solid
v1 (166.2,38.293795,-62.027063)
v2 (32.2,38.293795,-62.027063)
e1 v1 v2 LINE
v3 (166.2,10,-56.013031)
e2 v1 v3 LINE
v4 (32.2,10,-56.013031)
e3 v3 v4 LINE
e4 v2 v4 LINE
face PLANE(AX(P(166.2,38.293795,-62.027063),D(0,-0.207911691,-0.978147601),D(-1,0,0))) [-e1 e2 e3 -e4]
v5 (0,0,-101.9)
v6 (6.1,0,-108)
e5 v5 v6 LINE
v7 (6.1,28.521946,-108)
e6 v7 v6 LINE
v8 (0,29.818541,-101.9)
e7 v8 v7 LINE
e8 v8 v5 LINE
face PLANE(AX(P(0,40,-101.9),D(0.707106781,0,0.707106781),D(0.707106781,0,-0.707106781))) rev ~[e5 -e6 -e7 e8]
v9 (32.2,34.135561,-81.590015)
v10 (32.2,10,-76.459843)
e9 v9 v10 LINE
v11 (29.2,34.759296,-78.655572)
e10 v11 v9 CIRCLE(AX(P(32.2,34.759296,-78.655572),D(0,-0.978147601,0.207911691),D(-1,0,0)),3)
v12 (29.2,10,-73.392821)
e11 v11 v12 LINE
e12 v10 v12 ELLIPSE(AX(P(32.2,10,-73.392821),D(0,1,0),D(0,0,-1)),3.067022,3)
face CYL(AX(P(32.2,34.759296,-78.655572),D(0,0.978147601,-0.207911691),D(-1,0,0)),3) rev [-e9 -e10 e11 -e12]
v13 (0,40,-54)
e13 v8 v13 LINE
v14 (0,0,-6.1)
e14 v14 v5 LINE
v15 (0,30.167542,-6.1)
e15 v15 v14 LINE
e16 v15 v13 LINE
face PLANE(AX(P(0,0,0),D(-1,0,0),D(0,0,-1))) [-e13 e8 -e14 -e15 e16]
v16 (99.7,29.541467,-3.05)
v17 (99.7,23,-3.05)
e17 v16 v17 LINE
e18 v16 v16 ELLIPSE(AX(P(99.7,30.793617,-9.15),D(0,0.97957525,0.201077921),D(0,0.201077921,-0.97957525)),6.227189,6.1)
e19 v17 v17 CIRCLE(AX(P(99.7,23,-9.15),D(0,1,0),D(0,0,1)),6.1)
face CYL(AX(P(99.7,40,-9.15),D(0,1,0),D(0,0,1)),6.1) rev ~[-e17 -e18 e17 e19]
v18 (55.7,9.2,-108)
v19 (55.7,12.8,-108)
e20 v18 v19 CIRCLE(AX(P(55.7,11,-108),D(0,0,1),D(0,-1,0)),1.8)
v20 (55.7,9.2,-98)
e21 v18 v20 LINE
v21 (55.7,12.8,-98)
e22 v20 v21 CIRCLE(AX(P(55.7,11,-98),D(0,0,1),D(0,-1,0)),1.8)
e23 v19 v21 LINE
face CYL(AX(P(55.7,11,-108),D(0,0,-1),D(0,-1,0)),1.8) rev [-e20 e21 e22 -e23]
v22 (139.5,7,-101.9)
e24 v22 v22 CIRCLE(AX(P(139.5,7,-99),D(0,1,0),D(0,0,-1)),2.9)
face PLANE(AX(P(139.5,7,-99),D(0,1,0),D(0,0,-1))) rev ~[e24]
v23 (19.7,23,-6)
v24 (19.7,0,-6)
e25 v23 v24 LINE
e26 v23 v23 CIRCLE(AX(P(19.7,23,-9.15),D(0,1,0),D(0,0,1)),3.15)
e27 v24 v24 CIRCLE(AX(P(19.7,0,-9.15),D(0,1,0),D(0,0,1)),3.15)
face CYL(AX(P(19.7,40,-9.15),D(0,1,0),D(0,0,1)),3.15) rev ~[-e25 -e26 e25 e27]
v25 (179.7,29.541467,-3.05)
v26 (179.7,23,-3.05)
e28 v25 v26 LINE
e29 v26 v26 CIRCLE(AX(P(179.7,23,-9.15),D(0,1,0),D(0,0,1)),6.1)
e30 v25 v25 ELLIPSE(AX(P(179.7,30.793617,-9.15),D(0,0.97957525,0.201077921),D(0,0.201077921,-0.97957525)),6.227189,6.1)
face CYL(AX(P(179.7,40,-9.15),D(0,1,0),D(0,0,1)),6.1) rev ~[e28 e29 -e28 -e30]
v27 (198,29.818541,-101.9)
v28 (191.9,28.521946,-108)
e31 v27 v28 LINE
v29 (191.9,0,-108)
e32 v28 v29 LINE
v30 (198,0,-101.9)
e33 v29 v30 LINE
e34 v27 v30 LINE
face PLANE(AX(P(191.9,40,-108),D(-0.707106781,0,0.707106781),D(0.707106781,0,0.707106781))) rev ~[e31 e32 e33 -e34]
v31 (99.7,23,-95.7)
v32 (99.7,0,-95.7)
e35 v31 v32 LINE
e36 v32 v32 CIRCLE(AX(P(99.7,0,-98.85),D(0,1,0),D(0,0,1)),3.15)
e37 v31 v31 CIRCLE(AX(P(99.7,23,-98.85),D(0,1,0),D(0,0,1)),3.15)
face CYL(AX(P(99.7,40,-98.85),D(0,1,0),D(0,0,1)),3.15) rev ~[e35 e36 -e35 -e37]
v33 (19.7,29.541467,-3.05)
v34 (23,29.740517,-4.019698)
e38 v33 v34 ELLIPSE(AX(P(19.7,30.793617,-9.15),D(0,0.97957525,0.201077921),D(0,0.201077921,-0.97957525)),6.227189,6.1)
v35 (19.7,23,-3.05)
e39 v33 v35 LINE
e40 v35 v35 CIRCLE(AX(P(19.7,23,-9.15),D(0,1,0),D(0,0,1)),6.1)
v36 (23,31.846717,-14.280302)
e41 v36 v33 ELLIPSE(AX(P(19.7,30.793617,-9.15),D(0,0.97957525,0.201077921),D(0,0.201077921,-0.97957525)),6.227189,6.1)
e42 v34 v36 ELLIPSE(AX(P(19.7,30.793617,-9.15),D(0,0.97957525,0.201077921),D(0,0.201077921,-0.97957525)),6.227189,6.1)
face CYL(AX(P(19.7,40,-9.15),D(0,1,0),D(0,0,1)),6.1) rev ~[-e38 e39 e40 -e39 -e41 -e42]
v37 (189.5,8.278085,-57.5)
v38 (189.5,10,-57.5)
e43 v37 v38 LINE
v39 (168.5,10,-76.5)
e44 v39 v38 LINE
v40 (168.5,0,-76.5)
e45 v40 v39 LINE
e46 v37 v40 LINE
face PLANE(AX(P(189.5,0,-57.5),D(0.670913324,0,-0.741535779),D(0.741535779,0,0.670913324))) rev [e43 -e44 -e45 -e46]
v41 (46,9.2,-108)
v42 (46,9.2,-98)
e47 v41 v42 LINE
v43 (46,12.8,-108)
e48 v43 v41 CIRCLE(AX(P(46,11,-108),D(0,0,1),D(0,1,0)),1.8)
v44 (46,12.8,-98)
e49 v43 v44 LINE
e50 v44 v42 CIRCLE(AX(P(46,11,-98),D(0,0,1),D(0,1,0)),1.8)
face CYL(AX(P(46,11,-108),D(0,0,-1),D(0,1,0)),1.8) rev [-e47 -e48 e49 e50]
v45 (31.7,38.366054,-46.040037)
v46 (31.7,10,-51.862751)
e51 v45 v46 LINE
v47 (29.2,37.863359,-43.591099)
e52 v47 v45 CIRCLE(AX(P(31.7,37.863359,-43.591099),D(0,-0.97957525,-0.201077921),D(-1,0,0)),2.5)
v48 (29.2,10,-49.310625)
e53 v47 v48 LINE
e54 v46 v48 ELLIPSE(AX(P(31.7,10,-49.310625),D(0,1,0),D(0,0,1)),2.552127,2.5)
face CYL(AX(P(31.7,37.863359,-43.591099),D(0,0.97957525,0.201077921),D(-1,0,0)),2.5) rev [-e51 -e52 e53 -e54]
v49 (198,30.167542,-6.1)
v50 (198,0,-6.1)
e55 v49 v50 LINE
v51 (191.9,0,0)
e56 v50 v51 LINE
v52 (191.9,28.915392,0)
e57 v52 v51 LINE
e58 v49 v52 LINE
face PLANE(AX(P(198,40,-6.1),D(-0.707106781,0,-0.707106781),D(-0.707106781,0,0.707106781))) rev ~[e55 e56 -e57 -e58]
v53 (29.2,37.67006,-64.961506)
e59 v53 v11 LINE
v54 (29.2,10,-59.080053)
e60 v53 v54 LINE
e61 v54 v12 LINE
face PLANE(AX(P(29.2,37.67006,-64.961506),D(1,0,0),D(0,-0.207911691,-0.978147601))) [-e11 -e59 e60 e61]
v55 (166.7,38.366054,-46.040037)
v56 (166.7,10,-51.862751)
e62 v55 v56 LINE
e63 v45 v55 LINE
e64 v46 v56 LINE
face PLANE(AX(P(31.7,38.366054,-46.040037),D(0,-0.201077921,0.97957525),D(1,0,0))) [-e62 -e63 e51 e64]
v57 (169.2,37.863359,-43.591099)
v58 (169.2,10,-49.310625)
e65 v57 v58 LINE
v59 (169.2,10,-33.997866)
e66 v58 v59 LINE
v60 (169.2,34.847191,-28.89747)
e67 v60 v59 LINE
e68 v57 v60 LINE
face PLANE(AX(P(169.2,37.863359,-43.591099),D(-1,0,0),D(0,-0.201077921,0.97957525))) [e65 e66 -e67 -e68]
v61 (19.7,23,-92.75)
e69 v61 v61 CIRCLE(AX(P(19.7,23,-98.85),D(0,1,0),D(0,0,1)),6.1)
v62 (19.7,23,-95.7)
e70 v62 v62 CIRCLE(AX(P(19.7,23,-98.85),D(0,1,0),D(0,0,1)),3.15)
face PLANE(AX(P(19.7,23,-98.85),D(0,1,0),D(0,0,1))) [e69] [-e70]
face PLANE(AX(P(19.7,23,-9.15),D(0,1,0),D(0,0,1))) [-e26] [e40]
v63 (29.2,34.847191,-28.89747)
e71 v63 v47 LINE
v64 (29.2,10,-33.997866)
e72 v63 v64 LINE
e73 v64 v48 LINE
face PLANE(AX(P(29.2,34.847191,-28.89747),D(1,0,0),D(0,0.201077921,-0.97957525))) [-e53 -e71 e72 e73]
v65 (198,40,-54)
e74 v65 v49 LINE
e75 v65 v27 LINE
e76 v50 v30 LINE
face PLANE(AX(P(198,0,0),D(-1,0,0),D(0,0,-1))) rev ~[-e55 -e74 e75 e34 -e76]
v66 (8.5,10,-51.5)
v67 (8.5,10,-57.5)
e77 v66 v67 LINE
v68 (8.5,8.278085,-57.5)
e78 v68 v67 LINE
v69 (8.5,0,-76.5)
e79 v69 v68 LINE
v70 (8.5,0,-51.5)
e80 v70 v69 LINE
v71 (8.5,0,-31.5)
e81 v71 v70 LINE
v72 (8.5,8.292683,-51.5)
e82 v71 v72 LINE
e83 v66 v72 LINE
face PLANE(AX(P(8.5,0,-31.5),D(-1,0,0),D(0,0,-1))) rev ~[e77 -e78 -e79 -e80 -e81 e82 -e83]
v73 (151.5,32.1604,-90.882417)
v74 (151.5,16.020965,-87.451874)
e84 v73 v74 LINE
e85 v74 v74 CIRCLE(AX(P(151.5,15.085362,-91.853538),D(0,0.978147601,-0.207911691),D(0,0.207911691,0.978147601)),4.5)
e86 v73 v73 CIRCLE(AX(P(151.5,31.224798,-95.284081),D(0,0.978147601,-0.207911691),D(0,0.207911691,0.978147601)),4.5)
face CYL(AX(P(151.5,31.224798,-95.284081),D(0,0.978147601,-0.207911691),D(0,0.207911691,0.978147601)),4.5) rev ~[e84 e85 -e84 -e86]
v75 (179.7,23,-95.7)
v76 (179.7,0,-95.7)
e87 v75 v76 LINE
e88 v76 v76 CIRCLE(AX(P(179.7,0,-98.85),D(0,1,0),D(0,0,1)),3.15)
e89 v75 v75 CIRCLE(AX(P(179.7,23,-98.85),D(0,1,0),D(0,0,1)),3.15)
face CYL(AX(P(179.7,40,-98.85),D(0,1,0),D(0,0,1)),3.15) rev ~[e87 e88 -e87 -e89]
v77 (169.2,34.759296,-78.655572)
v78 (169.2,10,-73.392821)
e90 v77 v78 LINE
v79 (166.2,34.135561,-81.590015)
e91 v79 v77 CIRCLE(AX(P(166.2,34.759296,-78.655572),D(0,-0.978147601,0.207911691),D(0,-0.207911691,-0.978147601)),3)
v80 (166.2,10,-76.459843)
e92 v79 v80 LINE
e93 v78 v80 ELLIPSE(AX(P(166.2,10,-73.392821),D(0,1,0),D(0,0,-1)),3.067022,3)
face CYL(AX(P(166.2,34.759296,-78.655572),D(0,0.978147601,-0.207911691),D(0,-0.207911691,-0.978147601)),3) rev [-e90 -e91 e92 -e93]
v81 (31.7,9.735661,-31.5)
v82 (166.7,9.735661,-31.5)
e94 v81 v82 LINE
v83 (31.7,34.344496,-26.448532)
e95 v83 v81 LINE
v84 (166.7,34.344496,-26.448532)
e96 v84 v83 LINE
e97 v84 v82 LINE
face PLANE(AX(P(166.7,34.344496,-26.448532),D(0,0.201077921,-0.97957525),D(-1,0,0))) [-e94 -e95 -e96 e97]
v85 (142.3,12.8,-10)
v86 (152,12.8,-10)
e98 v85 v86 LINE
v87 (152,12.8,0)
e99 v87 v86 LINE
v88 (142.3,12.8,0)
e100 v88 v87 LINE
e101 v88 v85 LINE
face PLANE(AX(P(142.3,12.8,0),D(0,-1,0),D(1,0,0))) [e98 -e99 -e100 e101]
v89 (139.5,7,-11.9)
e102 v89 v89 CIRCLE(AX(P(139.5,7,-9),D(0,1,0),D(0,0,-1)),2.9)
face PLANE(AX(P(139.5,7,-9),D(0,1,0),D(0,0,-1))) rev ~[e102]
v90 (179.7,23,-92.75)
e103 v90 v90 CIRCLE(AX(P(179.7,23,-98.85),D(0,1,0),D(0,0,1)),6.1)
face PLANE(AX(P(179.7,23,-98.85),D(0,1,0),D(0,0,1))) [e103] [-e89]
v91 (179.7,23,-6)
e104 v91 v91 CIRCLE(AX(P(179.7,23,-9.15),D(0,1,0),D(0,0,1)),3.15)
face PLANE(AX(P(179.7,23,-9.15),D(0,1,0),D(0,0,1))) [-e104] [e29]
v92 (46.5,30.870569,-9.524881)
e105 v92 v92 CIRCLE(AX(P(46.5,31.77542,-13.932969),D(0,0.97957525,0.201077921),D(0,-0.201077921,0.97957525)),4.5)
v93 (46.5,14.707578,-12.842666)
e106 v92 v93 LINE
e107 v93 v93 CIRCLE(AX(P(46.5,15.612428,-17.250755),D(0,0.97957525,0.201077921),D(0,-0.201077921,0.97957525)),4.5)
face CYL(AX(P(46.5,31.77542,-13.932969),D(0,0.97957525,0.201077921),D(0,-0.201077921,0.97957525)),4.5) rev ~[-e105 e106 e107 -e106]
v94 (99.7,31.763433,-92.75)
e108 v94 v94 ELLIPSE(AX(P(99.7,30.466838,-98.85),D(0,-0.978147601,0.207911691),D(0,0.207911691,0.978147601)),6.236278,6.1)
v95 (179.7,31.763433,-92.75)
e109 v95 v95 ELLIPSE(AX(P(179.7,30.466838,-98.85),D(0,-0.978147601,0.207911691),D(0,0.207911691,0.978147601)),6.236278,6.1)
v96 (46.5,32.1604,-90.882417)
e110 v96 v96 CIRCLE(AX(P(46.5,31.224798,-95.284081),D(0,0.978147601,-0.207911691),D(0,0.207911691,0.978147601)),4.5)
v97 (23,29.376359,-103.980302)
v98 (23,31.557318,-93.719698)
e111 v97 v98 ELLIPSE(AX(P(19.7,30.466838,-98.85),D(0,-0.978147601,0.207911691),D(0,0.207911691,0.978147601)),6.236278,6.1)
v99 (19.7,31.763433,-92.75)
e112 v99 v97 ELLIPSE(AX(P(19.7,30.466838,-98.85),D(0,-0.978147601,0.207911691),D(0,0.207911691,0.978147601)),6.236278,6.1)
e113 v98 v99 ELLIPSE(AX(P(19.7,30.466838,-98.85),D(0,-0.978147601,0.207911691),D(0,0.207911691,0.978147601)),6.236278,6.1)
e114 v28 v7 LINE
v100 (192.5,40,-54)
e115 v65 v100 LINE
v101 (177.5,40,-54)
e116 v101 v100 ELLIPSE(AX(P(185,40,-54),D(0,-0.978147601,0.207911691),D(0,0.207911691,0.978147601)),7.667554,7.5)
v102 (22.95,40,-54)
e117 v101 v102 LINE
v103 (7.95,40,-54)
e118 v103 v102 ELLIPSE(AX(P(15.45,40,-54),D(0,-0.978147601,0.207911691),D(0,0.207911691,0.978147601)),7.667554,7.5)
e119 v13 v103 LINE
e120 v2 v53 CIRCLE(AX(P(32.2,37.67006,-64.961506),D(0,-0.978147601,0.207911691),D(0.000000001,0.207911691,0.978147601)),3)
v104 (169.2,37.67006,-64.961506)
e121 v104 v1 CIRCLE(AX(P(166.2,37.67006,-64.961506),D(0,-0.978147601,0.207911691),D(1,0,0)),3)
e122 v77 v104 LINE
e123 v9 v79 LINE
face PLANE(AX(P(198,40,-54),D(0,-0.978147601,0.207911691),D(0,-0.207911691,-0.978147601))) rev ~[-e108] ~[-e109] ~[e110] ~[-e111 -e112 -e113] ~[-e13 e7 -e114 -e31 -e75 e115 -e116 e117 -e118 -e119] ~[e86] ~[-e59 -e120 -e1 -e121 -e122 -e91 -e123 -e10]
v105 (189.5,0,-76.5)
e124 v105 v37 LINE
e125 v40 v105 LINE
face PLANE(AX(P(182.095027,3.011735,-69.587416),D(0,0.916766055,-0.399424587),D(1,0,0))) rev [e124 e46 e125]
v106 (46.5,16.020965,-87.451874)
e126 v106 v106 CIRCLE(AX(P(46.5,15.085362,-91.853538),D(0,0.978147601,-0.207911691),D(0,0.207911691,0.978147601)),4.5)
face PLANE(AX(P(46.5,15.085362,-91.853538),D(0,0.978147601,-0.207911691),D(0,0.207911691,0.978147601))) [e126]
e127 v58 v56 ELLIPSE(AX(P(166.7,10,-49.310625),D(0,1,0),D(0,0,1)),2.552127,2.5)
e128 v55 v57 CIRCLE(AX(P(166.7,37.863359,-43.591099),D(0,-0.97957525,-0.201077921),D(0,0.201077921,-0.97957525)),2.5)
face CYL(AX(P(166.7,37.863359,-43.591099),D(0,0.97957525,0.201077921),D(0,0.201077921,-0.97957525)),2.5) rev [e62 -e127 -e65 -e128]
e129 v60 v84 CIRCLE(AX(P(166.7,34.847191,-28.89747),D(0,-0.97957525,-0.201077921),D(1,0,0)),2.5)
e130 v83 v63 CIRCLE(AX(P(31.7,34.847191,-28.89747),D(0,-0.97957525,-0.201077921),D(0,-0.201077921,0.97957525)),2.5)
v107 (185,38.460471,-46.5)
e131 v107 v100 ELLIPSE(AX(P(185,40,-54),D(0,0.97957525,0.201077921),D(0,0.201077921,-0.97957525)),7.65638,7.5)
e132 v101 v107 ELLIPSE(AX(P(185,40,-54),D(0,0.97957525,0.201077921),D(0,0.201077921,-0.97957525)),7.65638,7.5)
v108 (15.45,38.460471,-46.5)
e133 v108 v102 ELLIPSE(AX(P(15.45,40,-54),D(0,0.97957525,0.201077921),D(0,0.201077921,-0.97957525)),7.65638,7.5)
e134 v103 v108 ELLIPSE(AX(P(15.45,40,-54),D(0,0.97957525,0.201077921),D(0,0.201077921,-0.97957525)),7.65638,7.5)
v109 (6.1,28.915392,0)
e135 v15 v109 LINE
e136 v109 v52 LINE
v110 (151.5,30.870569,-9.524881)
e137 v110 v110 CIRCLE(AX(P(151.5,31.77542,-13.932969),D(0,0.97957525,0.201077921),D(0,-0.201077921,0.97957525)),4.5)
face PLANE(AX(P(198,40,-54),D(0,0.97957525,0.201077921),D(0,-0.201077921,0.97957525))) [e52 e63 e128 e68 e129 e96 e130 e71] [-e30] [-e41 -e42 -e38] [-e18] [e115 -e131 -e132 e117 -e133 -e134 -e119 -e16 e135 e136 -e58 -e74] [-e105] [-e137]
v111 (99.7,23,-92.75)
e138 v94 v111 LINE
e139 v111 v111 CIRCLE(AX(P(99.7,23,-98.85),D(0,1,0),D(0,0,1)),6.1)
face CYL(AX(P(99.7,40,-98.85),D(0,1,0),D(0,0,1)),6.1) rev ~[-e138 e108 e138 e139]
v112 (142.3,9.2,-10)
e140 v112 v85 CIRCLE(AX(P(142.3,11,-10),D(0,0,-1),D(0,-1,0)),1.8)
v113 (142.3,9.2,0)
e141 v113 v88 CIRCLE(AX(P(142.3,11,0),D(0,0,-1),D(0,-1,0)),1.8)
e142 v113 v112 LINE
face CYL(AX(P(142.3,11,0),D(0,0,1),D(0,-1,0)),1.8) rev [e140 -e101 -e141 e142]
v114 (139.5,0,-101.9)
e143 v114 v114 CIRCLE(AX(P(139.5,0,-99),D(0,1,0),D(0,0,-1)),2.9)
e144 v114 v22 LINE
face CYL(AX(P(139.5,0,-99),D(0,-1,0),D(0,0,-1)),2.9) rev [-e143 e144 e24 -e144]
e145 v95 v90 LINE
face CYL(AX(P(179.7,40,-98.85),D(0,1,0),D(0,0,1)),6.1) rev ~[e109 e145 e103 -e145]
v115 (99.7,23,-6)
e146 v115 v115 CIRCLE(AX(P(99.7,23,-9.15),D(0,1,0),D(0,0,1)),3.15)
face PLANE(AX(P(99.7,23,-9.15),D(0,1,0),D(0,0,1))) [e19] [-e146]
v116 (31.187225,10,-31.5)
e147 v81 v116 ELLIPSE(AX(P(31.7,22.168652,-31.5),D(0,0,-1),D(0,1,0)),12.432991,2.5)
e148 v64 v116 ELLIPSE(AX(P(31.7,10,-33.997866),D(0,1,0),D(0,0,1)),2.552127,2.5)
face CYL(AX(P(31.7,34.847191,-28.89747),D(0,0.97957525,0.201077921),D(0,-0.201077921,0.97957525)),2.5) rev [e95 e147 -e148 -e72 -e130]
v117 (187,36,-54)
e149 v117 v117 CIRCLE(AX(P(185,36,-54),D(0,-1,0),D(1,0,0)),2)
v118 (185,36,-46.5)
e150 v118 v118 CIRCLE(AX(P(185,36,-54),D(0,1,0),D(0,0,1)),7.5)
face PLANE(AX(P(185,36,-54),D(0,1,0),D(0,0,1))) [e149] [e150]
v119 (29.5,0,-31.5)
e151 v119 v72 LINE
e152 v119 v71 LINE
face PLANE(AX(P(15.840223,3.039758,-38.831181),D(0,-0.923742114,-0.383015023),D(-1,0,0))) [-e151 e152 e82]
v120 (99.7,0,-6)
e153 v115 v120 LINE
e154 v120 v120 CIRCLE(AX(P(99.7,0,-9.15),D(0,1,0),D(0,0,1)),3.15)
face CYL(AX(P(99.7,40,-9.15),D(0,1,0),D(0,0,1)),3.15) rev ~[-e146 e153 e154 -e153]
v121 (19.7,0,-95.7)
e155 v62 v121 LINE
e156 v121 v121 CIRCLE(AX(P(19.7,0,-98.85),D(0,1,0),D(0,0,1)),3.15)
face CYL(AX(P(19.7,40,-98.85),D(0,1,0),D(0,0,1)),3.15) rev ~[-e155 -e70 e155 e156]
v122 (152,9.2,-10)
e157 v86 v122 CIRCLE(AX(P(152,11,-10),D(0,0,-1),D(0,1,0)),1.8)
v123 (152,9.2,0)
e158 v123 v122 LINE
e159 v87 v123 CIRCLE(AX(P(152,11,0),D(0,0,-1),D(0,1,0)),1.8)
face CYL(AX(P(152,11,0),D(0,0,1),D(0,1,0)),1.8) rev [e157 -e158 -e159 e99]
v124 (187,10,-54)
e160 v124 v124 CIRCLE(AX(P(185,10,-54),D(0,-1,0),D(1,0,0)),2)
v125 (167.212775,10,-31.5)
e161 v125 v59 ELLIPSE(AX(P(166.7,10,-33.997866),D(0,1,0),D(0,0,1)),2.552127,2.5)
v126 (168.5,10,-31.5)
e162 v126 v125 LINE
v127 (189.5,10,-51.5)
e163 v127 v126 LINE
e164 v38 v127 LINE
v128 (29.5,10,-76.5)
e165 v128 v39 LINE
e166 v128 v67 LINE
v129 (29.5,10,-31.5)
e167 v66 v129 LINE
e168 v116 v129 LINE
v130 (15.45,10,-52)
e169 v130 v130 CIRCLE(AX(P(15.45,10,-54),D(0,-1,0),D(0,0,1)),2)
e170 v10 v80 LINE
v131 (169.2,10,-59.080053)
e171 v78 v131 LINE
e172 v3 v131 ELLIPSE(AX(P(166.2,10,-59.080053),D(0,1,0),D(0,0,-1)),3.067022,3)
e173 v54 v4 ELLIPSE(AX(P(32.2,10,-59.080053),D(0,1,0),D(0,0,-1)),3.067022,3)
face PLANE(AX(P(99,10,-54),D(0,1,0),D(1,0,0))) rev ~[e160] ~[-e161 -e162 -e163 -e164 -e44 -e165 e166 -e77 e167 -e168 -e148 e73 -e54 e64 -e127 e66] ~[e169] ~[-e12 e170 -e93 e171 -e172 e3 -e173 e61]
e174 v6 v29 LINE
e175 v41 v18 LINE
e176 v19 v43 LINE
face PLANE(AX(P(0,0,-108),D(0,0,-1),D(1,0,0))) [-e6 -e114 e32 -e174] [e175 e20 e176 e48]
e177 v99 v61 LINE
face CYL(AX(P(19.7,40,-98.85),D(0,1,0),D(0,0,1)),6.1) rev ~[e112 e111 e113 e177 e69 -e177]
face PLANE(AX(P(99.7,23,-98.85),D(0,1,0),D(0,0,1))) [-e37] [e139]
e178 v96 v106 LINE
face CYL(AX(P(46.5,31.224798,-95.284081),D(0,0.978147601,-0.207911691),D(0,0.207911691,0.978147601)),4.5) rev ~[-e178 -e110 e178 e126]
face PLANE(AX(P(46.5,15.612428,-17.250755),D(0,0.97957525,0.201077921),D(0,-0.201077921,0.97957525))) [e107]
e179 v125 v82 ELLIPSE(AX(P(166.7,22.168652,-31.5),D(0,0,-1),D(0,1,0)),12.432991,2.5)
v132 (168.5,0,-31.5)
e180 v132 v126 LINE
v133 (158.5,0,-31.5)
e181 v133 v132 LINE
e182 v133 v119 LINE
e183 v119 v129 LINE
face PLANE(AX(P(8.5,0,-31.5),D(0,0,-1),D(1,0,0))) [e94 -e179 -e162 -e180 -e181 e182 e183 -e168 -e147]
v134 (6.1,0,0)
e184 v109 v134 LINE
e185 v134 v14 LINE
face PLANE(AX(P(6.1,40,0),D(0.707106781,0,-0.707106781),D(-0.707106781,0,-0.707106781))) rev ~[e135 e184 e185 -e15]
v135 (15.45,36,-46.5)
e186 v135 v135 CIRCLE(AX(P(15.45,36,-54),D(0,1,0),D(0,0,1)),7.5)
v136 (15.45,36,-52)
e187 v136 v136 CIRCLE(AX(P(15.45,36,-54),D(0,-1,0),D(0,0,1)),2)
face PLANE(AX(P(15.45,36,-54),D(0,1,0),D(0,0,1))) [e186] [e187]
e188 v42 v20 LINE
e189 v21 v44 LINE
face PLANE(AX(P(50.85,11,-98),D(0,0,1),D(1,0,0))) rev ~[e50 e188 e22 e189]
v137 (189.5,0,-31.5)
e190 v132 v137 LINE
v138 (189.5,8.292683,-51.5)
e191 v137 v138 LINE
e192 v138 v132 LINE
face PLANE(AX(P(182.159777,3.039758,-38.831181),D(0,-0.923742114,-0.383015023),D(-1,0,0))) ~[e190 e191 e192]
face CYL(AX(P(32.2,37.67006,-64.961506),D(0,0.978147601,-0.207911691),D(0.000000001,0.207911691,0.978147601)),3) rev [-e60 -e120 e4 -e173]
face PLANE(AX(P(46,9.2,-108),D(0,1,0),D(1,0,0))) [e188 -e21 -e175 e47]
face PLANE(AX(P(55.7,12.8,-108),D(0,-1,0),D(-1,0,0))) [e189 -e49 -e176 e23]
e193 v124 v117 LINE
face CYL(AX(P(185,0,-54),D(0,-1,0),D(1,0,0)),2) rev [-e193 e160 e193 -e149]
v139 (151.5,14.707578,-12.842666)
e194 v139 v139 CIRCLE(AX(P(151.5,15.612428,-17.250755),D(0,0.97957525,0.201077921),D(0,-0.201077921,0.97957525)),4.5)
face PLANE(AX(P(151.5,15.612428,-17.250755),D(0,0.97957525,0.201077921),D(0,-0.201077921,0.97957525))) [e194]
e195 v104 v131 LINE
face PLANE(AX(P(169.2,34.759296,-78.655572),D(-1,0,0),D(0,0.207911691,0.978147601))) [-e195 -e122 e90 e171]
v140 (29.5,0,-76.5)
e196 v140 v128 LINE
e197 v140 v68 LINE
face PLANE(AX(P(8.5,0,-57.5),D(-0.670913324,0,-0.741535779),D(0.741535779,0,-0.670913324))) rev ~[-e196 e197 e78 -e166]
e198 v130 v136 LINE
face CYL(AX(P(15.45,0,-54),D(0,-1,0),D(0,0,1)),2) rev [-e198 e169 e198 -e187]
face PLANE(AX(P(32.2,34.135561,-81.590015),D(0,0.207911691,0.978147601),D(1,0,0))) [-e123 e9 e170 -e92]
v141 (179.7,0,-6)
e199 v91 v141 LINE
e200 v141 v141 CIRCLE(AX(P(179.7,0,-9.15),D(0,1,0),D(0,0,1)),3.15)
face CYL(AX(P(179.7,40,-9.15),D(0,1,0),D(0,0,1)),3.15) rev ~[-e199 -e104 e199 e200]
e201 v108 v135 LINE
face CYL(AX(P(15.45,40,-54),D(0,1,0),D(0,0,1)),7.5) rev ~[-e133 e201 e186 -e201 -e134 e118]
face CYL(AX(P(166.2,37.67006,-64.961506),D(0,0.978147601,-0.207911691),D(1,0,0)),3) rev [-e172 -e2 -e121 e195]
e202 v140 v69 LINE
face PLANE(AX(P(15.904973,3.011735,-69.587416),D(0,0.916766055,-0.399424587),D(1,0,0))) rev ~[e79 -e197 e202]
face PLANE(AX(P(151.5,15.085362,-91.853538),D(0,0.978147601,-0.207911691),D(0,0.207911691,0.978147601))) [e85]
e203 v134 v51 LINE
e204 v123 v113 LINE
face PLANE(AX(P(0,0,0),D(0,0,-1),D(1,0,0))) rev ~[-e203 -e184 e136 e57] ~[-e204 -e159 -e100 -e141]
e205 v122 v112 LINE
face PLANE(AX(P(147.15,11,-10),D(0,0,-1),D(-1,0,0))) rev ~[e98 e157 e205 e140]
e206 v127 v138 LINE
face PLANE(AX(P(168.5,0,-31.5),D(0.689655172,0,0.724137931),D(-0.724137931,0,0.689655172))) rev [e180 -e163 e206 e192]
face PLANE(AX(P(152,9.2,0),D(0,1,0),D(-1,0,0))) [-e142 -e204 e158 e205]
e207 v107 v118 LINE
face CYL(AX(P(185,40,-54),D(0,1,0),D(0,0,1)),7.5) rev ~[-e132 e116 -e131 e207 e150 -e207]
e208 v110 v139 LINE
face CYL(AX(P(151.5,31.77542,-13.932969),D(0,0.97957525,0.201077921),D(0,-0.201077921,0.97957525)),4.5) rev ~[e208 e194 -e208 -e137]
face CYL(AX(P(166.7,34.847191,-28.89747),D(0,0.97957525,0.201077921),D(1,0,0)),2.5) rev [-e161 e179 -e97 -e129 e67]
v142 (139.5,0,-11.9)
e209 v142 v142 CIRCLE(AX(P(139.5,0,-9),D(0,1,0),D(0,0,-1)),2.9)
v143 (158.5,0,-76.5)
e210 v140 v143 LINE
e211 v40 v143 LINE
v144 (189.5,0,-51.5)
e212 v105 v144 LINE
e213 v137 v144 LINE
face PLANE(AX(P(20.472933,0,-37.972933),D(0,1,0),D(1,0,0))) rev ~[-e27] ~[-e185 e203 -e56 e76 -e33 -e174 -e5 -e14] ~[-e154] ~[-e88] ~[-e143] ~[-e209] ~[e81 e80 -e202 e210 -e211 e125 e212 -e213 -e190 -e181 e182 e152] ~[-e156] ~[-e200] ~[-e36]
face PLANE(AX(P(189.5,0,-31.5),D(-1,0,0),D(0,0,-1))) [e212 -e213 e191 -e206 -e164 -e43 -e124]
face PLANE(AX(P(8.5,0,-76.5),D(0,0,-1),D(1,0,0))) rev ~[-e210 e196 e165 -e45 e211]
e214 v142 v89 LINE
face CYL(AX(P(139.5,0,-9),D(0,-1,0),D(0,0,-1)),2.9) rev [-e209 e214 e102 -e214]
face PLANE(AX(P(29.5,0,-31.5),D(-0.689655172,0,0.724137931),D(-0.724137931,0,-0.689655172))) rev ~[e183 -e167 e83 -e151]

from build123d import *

# Parameters (mm, degrees)
SKETCH1_W             = 198
SKETCH1_H             = 108
BOSS_EXTRUDE1_DEPTH   = 40
SKETCH4_W             = 181
SKETCH4_H             = 45
CUT_EXTRUDE2_DEPTH    = 10
CUT_EXTRUDE3_DEPTH    = 175
BOSS_EXTRUDE11_DEPTH  = 10
CUT_EXTRUDE12_DEPTH   = 175
CUT_EXTRUDE28_DEPTH   = 14.5
CUT_EXTRUDE29_DEPTH   = 14.5
CUT_EXTRUDE40_REACH   = 231.059
CUT_EXTRUDE5_DEPTH    = 23
SKETCH12_R            = 3.15
CUT_EXTRUDE9_DEPTH    = 230.058944379
SKETCH13_R            = 4.5
CUT_EXTRUDE10_DEPTH   = 16.5
SKETCH14_R            = 4.5
CUT_EXTRUDE11_DEPTH   = 16.5
SKETCH41_R            = 2.9
CUT_EXTRUDE21_DEPTH   = 7
CUT_EXTRUDE22_DEPTH   = 10
CUT_EXTRUDE23_DEPTH   = 10
CUT_EXTRUDE32_DEPTH   = 43.3
CUT_EXTRUDE34_DEPTH   = 55.4
CUT_EXTRUDE36_DEPTH   = 55.4
SKETCH90_R            = 6.1
CUT_EXTRUDE38_DEPTH   = 17
SKETCH96_R            = 2
CUT_EXTRUDE39_DEPTH   = 230.058944379
SKETCH98_R            = 7.5
CUT_EXTRUDE41_DEPTH   = 4
CORTAR_EXTRUIR1_DEPTH = 23
CORTAR_EXTRUIR2_DEPTH = 23


with BuildPart() as part:
    # Sketch1 → Boss-Extrude1 (new body)
    with BuildSketch(Plane(origin=(0, 0, 0), x_dir=(1, 0, 0), z_dir=(0, 1, 0))):
        with Locations((99, 54)):
            Rectangle(SKETCH1_W, SKETCH1_H)
    extrude(amount=BOSS_EXTRUDE1_DEPTH)

    # Sketch4 → Cut-Extrude2 (cut)
    with BuildSketch(Plane(origin=(0, 0, 0), x_dir=(1, 0, 0), z_dir=(0, 1, 0))):
        with Locations((99, 54)):
            Rectangle(SKETCH4_W, SKETCH4_H)
    extrude(amount=CUT_EXTRUDE2_DEPTH, mode=Mode.SUBTRACT)

    # Sketch5 → Cut-Extrude3 (cut)
    with BuildSketch(Plane(origin=(198, 0, 0), x_dir=(0, 0, -1), z_dir=(1, 0, 0))):
        Polygon((54, 40), (108, 28.52194567), (108, 40), align=None)
    extrude(amount=-CUT_EXTRUDE3_DEPTH, mode=Mode.SUBTRACT)

    # Sketch53 → Boss-Extrude11 (add)
    with BuildSketch(Plane(origin=(0, 10, 0), x_dir=(-1, 0, 0), z_dir=(0, -1, 0))):
        Polygon((-8.5, 51.5), (-8.5, 31.5), (-39.5, 31.5), align=None)
        Polygon((-8.5, 56.5), (-8.5, 76.5), (-39.5, 76.5), align=None)
        Polygon((-158.5, 76.5), (-189.5, 56.5), (-189.5, 76.5), align=None)
        Polygon((-158.5, 31.5), (-189.5, 51.5), (-189.5, 31.5), align=None)
    extrude(amount=BOSS_EXTRUDE11_DEPTH)

    # Sketch18 → Cut-Extrude12 (cut)
    with BuildSketch(Plane(origin=(198, 0, 0), x_dir=(0, 0, -1), z_dir=(1, 0, 0))):
        Polygon((0, 28.915391904), (0, 40), (54, 40), align=None)
    extrude(amount=-CUT_EXTRUDE12_DEPTH, mode=Mode.SUBTRACT)

    # Izq → Cut-Extrude28 (cut)
    with BuildSketch(Plane(origin=(0, 28.012686094, -12.204810084), x_dir=(1, 0, 0), z_dir=(0, 0.9167660546215654, -0.3994245874925693))):
        Polygon((8.5, 48.862182113), (29.5, 70.132603179), (8.5, 70.132603179), align=None)
    cut_extrude28 = extrude(amount=-CUT_EXTRUDE28_DEPTH, mode=Mode.SUBTRACT)

    # Der → Cut-Extrude29 (cut)
    with BuildSketch(Plane(origin=(0, -11.144923858, -4.62106599), x_dir=(1, 0, 0), z_dir=(0, 0.9237421135716327, 0.38301502270043264))):
        Polygon((8.5, 51.290217599), (29.5, 29.097876578), (8.5, 29.097876578), align=None)
    cut_extrude29 = extrude(amount=-CUT_EXTRUDE29_DEPTH, mode=Mode.SUBTRACT)

    # Cut-Extrude40: up to this face of the body (flat: up to its plane)
    cut_extrude40_end = Plane(part.part.faces().sort_by_distance((99, 10, -54))[0])
    # Sketch97 → Cut-Extrude40 (cut, up to the picked face)
    with BuildSketch(Plane(origin=(0, 0, 0), x_dir=(1, 0, 0), z_dir=(0, 1, 0)), mode=Mode.PRIVATE) as cut_extrude40_sk1:
        Polygon((8.5, 57.5), (29.5, 76.5), (158.5, 76.5), (189.5, 56.5), (189.5, 51.5), (158.5, 31.5), (29.5, 31.5), (8.5, 51.5), align=None)
    cut_extrude40_tool1 = split(extrude(cut_extrude40_sk1.sketch, amount=CUT_EXTRUDE40_REACH, mode=Mode.PRIVATE), bisect_by=cut_extrude40_end, keep=Keep.BOTH, mode=Mode.PRIVATE)
    cut_extrude40 = cut_extrude40_tool1.solids().sort_by(Axis((96.82024, 0, -54.014019), (0, 1, 0)))[0]
    add(cut_extrude40, mode=Mode.SUBTRACT)

    # Mirror2: Cut-Extrude28, Cut-Extrude29, Cut-Extrude40 across plane
    add(cut_extrude28.mirror(Plane(origin=(99, 0, 0), x_dir=(0, 0, 1), z_dir=(1, 0, 0))), mode=Mode.SUBTRACT)
    add(cut_extrude29.mirror(Plane(origin=(99, 0, 0), x_dir=(0, 0, 1), z_dir=(1, 0, 0))), mode=Mode.SUBTRACT)
    add(cut_extrude40.mirror(Plane(origin=(99, 0, 0), x_dir=(0, 0, 1), z_dir=(1, 0, 0))), mode=Mode.SUBTRACT)

    # Sketch7 → Cut-Extrude5 (cut)
    with BuildSketch(Plane(origin=(0, 0, 0), x_dir=(0, 0, -1), z_dir=(1, 0, 0))):
        Polygon((108, 40), (108, 35), (83.505102572, 40), align=None)
        Polygon((0, 35), (0, 40), (24.494897428, 40), align=None)
    extrude(amount=CUT_EXTRUDE5_DEPTH, mode=Mode.SUBTRACT)

    # Sketch12 → Cut-Extrude9 (cut, through all)
    with BuildSketch(Plane(origin=(0, 40, 0), x_dir=(1, 0, 0), z_dir=(0, 1, 0))):
        with Locations(Location((19.7, 98.85, 0), (0, 0, 270))):
            Circle(SKETCH12_R)
        with Locations(Location((99.7, 9.15, 0), (0, 0, 270))):
            Circle(SKETCH12_R)
        with Locations(Location((179.7, 9.15, 0), (0, 0, 270))):
            Circle(SKETCH12_R)
        with Locations(Location((19.7, 9.15, 0), (0, 0, 270))):
            Circle(SKETCH12_R)
        with Locations(Location((99.7, 98.85, 0), (0, 0, 270))):
            Circle(SKETCH12_R)
        with Locations(Location((179.7, 98.85, 0), (0, 0, 270))):
            Circle(SKETCH12_R)
    extrude(amount=-CUT_EXTRUDE9_DEPTH, mode=Mode.SUBTRACT)

    # Sketch13 → Cut-Extrude10 (cut)
    with BuildSketch(Plane(origin=(0, 49.252798516, -10.469005505), x_dir=(1, 0, 0), z_dir=(0, 0.9781476007338072, -0.20791169081775226))):
        with Locations(Location((46.5, 86.70989493, 0), (0, 0, 270))):
            Circle(SKETCH13_R)
        with Locations(Location((151.5, 86.70989493, 0), (0, 0, 270))):
            Circle(SKETCH13_R)
    extrude(amount=-CUT_EXTRUDE10_DEPTH, mode=Mode.SUBTRACT)

    # Sketch14 → Cut-Extrude11 (cut)
    with BuildSketch(Plane(origin=(0, 27.155811177, 8.572008905), x_dir=(1, 0, 0), z_dir=(0, 0.9795752495993454, 0.20107792114595804))):
        with Locations(Location((46.5, 22.974220944, 0), (0, 0, 270))):
            Circle(SKETCH14_R)
        with Locations(Location((151.5, 22.974220944, 0), (0, 0, 270))):
            Circle(SKETCH14_R)
    extrude(amount=-CUT_EXTRUDE11_DEPTH, mode=Mode.SUBTRACT)

    # Sketch41 → Cut-Extrude21 (cut)
    with BuildSketch(Plane(origin=(0, 0, 0), x_dir=(1, 0, 0), z_dir=(0, 1, 0))):
        with Locations(Location((139.5, 9, 0), (0, 0, 90))):
            Circle(SKETCH41_R)
        with Locations(Location((139.5, 99, 0), (0, 0, 90))):
            Circle(SKETCH41_R)
    extrude(amount=CUT_EXTRUDE21_DEPTH, mode=Mode.SUBTRACT)

    # Sketch42 → Cut-Extrude22 (cut)
    with BuildSketch(Plane.XY):
        with BuildLine():
            Line((142.3, 12.8), (152, 12.8))
            ThreePointArc((152, 12.8), (153.8, 11), (152, 9.2))
            Line((152, 9.2), (142.3, 9.2))
            ThreePointArc((142.3, 9.2), (140.5, 11), (142.3, 12.8))
        make_face()
    extrude(amount=-CUT_EXTRUDE22_DEPTH, mode=Mode.SUBTRACT)

    # Sketch43 → Cut-Extrude23 (cut)
    with BuildSketch(Plane(origin=(0, 0, -108), x_dir=(-1, 0, 0), z_dir=(0, 0, -1))):
        with BuildLine():
            Line((-55.7, 12.8), (-46, 12.8))
            ThreePointArc((-46, 12.8), (-44.2, 11), (-46, 9.2))
            Line((-46, 9.2), (-55.7, 9.2))
            ThreePointArc((-55.7, 9.2), (-57.5, 11), (-55.7, 12.8))
        make_face()
    extrude(amount=-CUT_EXTRUDE23_DEPTH, mode=Mode.SUBTRACT)

    # Sketch6 → Cut-Extrude32 (cut)
    with BuildSketch(Plane(origin=(0, 49.252798516, -10.469005505), x_dir=(1, 0, 0), z_dir=(0, 0.9781476007338072, -0.20791169081775226))):
        with BuildLine():
            Line((32.2, 72.70989493), (166.2, 72.70989493))
            ThreePointArc((166.2, 72.70989493), (168.321320344, 71.831215273), (169.2, 69.70989493))
            Line((169.2, 69.70989493), (169.2, 55.70989493))
            ThreePointArc((169.2, 55.70989493), (168.321320344, 53.588574586), (166.2, 52.70989493))
            Line((166.2, 52.70989493), (32.2, 52.70989493))
            ThreePointArc((32.2, 52.70989493), (30.078679656, 53.588574586), (29.2, 55.70989493))
            Line((29.2, 55.70989493), (29.2, 69.70989493))
            ThreePointArc((29.2, 69.70989493), (30.078679656, 71.831215273), (32.2, 72.70989493))
        make_face()
    extrude(amount=-CUT_EXTRUDE32_DEPTH, mode=Mode.SUBTRACT)

    # Sketch83 → Cut-Extrude34 (cut)
    with BuildSketch(Plane(origin=(0, 27.746275226, 5.695492352), x_dir=(1, 0, 0), z_dir=(0, 0.9795752495993454, 0.20107792114595804))):
        with BuildLine():
            Line((31.7, 52.814246893), (166.7, 52.814246893))
            ThreePointArc((166.7, 52.814246893), (168.467766953, 52.082013846), (169.2, 50.314246893))
            Line((169.2, 50.314246893), (169.2, 35.314246893))
            ThreePointArc((169.2, 35.314246893), (168.467766953, 33.54647994), (166.7, 32.814246893))
            Line((166.7, 32.814246893), (31.7, 32.814246893))
            ThreePointArc((31.7, 32.814246893), (29.932233047, 33.54647994), (29.2, 35.314246893))
            Line((29.2, 35.314246893), (29.2, 50.314246893))
            ThreePointArc((29.2, 50.314246893), (29.932233047, 52.082013846), (31.7, 52.814246893))
        make_face()
    extrude(amount=-CUT_EXTRUDE34_DEPTH, mode=Mode.SUBTRACT)

    # Sketch85 → Cut-Extrude36 (cut)
    with BuildSketch(Plane(origin=(0, 40, 0), x_dir=(1, 0, 0), z_dir=(0, 1, 0))):
        Polygon((0, 101.9), (6.1, 108), (0, 108), align=None)
        Polygon((0, 0), (6.1, 0), (0, 6.1), align=None)
        Polygon((198, 6.1), (191.9, 0), (198, 0), align=None)
        Polygon((198, 108), (191.9, 108), (198, 101.9), align=None)
    extrude(amount=-CUT_EXTRUDE36_DEPTH, mode=Mode.SUBTRACT)

    # Sketch90 → Cut-Extrude38 (cut)
    with BuildSketch(Plane(origin=(0, 40, 0), x_dir=(1, 0, 0), z_dir=(0, 1, 0))):
        with Locations(Location((19.7, 9.15, 0), (0, 0, 270))):
            Circle(SKETCH90_R)
        with Locations(Location((99.7, 9.15, 0), (0, 0, 270))):
            Circle(SKETCH90_R)
        with Locations(Location((179.7, 9.15, 0), (0, 0, 270))):
            Circle(SKETCH90_R)
        with Locations(Location((99.7, 98.85, 0), (0, 0, 270))):
            Circle(SKETCH90_R)
        with Locations(Location((179.7, 98.85, 0), (0, 0, 270))):
            Circle(SKETCH90_R)
        with Locations(Location((19.7, 98.85, 0), (0, 0, 270))):
            Circle(SKETCH90_R)
    extrude(amount=-CUT_EXTRUDE38_DEPTH, mode=Mode.SUBTRACT)

    # Sketch96 → Cut-Extrude39 (cut, through all)
    with BuildSketch(Plane(origin=(0, 0, 0), x_dir=(1, 0, 0), z_dir=(0, 1, 0))):
        with Locations(Location((15.45, 54, 0), (0, 0, 270))):
            Circle(SKETCH96_R)
        with Locations((185, 54)):
            Circle(SKETCH96_R)
    extrude(amount=CUT_EXTRUDE39_DEPTH, mode=Mode.SUBTRACT)

    # Sketch98 → Cut-Extrude41 (cut)
    with BuildSketch(Plane(origin=(0, 40, 0), x_dir=(1, 0, 0), z_dir=(0, 1, 0))):
        with Locations(Location((185, 54, 0), (0, 0, 270))):
            Circle(SKETCH98_R)
        with Locations(Location((15.45, 54, 0), (0, 0, 270))):
            Circle(SKETCH98_R)
    extrude(amount=-CUT_EXTRUDE41_DEPTH, mode=Mode.SUBTRACT)

    # Croquis1 → Cortar-Extruir1 (cut)
    with BuildSketch(Plane(origin=(0, 0, 0), x_dir=(0, 0, -1), z_dir=(1, 0, 0))):
        Polygon((108, 40), (108, 28.52194567), (54, 40), align=None)
    extrude(amount=CORTAR_EXTRUIR1_DEPTH, mode=Mode.SUBTRACT)

    # Croquis2 → Cortar-Extruir2 (cut)
    with BuildSketch(Plane(origin=(0, 0, 0), x_dir=(0, 0, -1), z_dir=(1, 0, 0))):
        Polygon((54, 40), (0, 40), (0, 28.915391904), align=None)
    extrude(amount=CORTAR_EXTRUIR2_DEPTH, mode=Mode.SUBTRACT)


solid = part.part
